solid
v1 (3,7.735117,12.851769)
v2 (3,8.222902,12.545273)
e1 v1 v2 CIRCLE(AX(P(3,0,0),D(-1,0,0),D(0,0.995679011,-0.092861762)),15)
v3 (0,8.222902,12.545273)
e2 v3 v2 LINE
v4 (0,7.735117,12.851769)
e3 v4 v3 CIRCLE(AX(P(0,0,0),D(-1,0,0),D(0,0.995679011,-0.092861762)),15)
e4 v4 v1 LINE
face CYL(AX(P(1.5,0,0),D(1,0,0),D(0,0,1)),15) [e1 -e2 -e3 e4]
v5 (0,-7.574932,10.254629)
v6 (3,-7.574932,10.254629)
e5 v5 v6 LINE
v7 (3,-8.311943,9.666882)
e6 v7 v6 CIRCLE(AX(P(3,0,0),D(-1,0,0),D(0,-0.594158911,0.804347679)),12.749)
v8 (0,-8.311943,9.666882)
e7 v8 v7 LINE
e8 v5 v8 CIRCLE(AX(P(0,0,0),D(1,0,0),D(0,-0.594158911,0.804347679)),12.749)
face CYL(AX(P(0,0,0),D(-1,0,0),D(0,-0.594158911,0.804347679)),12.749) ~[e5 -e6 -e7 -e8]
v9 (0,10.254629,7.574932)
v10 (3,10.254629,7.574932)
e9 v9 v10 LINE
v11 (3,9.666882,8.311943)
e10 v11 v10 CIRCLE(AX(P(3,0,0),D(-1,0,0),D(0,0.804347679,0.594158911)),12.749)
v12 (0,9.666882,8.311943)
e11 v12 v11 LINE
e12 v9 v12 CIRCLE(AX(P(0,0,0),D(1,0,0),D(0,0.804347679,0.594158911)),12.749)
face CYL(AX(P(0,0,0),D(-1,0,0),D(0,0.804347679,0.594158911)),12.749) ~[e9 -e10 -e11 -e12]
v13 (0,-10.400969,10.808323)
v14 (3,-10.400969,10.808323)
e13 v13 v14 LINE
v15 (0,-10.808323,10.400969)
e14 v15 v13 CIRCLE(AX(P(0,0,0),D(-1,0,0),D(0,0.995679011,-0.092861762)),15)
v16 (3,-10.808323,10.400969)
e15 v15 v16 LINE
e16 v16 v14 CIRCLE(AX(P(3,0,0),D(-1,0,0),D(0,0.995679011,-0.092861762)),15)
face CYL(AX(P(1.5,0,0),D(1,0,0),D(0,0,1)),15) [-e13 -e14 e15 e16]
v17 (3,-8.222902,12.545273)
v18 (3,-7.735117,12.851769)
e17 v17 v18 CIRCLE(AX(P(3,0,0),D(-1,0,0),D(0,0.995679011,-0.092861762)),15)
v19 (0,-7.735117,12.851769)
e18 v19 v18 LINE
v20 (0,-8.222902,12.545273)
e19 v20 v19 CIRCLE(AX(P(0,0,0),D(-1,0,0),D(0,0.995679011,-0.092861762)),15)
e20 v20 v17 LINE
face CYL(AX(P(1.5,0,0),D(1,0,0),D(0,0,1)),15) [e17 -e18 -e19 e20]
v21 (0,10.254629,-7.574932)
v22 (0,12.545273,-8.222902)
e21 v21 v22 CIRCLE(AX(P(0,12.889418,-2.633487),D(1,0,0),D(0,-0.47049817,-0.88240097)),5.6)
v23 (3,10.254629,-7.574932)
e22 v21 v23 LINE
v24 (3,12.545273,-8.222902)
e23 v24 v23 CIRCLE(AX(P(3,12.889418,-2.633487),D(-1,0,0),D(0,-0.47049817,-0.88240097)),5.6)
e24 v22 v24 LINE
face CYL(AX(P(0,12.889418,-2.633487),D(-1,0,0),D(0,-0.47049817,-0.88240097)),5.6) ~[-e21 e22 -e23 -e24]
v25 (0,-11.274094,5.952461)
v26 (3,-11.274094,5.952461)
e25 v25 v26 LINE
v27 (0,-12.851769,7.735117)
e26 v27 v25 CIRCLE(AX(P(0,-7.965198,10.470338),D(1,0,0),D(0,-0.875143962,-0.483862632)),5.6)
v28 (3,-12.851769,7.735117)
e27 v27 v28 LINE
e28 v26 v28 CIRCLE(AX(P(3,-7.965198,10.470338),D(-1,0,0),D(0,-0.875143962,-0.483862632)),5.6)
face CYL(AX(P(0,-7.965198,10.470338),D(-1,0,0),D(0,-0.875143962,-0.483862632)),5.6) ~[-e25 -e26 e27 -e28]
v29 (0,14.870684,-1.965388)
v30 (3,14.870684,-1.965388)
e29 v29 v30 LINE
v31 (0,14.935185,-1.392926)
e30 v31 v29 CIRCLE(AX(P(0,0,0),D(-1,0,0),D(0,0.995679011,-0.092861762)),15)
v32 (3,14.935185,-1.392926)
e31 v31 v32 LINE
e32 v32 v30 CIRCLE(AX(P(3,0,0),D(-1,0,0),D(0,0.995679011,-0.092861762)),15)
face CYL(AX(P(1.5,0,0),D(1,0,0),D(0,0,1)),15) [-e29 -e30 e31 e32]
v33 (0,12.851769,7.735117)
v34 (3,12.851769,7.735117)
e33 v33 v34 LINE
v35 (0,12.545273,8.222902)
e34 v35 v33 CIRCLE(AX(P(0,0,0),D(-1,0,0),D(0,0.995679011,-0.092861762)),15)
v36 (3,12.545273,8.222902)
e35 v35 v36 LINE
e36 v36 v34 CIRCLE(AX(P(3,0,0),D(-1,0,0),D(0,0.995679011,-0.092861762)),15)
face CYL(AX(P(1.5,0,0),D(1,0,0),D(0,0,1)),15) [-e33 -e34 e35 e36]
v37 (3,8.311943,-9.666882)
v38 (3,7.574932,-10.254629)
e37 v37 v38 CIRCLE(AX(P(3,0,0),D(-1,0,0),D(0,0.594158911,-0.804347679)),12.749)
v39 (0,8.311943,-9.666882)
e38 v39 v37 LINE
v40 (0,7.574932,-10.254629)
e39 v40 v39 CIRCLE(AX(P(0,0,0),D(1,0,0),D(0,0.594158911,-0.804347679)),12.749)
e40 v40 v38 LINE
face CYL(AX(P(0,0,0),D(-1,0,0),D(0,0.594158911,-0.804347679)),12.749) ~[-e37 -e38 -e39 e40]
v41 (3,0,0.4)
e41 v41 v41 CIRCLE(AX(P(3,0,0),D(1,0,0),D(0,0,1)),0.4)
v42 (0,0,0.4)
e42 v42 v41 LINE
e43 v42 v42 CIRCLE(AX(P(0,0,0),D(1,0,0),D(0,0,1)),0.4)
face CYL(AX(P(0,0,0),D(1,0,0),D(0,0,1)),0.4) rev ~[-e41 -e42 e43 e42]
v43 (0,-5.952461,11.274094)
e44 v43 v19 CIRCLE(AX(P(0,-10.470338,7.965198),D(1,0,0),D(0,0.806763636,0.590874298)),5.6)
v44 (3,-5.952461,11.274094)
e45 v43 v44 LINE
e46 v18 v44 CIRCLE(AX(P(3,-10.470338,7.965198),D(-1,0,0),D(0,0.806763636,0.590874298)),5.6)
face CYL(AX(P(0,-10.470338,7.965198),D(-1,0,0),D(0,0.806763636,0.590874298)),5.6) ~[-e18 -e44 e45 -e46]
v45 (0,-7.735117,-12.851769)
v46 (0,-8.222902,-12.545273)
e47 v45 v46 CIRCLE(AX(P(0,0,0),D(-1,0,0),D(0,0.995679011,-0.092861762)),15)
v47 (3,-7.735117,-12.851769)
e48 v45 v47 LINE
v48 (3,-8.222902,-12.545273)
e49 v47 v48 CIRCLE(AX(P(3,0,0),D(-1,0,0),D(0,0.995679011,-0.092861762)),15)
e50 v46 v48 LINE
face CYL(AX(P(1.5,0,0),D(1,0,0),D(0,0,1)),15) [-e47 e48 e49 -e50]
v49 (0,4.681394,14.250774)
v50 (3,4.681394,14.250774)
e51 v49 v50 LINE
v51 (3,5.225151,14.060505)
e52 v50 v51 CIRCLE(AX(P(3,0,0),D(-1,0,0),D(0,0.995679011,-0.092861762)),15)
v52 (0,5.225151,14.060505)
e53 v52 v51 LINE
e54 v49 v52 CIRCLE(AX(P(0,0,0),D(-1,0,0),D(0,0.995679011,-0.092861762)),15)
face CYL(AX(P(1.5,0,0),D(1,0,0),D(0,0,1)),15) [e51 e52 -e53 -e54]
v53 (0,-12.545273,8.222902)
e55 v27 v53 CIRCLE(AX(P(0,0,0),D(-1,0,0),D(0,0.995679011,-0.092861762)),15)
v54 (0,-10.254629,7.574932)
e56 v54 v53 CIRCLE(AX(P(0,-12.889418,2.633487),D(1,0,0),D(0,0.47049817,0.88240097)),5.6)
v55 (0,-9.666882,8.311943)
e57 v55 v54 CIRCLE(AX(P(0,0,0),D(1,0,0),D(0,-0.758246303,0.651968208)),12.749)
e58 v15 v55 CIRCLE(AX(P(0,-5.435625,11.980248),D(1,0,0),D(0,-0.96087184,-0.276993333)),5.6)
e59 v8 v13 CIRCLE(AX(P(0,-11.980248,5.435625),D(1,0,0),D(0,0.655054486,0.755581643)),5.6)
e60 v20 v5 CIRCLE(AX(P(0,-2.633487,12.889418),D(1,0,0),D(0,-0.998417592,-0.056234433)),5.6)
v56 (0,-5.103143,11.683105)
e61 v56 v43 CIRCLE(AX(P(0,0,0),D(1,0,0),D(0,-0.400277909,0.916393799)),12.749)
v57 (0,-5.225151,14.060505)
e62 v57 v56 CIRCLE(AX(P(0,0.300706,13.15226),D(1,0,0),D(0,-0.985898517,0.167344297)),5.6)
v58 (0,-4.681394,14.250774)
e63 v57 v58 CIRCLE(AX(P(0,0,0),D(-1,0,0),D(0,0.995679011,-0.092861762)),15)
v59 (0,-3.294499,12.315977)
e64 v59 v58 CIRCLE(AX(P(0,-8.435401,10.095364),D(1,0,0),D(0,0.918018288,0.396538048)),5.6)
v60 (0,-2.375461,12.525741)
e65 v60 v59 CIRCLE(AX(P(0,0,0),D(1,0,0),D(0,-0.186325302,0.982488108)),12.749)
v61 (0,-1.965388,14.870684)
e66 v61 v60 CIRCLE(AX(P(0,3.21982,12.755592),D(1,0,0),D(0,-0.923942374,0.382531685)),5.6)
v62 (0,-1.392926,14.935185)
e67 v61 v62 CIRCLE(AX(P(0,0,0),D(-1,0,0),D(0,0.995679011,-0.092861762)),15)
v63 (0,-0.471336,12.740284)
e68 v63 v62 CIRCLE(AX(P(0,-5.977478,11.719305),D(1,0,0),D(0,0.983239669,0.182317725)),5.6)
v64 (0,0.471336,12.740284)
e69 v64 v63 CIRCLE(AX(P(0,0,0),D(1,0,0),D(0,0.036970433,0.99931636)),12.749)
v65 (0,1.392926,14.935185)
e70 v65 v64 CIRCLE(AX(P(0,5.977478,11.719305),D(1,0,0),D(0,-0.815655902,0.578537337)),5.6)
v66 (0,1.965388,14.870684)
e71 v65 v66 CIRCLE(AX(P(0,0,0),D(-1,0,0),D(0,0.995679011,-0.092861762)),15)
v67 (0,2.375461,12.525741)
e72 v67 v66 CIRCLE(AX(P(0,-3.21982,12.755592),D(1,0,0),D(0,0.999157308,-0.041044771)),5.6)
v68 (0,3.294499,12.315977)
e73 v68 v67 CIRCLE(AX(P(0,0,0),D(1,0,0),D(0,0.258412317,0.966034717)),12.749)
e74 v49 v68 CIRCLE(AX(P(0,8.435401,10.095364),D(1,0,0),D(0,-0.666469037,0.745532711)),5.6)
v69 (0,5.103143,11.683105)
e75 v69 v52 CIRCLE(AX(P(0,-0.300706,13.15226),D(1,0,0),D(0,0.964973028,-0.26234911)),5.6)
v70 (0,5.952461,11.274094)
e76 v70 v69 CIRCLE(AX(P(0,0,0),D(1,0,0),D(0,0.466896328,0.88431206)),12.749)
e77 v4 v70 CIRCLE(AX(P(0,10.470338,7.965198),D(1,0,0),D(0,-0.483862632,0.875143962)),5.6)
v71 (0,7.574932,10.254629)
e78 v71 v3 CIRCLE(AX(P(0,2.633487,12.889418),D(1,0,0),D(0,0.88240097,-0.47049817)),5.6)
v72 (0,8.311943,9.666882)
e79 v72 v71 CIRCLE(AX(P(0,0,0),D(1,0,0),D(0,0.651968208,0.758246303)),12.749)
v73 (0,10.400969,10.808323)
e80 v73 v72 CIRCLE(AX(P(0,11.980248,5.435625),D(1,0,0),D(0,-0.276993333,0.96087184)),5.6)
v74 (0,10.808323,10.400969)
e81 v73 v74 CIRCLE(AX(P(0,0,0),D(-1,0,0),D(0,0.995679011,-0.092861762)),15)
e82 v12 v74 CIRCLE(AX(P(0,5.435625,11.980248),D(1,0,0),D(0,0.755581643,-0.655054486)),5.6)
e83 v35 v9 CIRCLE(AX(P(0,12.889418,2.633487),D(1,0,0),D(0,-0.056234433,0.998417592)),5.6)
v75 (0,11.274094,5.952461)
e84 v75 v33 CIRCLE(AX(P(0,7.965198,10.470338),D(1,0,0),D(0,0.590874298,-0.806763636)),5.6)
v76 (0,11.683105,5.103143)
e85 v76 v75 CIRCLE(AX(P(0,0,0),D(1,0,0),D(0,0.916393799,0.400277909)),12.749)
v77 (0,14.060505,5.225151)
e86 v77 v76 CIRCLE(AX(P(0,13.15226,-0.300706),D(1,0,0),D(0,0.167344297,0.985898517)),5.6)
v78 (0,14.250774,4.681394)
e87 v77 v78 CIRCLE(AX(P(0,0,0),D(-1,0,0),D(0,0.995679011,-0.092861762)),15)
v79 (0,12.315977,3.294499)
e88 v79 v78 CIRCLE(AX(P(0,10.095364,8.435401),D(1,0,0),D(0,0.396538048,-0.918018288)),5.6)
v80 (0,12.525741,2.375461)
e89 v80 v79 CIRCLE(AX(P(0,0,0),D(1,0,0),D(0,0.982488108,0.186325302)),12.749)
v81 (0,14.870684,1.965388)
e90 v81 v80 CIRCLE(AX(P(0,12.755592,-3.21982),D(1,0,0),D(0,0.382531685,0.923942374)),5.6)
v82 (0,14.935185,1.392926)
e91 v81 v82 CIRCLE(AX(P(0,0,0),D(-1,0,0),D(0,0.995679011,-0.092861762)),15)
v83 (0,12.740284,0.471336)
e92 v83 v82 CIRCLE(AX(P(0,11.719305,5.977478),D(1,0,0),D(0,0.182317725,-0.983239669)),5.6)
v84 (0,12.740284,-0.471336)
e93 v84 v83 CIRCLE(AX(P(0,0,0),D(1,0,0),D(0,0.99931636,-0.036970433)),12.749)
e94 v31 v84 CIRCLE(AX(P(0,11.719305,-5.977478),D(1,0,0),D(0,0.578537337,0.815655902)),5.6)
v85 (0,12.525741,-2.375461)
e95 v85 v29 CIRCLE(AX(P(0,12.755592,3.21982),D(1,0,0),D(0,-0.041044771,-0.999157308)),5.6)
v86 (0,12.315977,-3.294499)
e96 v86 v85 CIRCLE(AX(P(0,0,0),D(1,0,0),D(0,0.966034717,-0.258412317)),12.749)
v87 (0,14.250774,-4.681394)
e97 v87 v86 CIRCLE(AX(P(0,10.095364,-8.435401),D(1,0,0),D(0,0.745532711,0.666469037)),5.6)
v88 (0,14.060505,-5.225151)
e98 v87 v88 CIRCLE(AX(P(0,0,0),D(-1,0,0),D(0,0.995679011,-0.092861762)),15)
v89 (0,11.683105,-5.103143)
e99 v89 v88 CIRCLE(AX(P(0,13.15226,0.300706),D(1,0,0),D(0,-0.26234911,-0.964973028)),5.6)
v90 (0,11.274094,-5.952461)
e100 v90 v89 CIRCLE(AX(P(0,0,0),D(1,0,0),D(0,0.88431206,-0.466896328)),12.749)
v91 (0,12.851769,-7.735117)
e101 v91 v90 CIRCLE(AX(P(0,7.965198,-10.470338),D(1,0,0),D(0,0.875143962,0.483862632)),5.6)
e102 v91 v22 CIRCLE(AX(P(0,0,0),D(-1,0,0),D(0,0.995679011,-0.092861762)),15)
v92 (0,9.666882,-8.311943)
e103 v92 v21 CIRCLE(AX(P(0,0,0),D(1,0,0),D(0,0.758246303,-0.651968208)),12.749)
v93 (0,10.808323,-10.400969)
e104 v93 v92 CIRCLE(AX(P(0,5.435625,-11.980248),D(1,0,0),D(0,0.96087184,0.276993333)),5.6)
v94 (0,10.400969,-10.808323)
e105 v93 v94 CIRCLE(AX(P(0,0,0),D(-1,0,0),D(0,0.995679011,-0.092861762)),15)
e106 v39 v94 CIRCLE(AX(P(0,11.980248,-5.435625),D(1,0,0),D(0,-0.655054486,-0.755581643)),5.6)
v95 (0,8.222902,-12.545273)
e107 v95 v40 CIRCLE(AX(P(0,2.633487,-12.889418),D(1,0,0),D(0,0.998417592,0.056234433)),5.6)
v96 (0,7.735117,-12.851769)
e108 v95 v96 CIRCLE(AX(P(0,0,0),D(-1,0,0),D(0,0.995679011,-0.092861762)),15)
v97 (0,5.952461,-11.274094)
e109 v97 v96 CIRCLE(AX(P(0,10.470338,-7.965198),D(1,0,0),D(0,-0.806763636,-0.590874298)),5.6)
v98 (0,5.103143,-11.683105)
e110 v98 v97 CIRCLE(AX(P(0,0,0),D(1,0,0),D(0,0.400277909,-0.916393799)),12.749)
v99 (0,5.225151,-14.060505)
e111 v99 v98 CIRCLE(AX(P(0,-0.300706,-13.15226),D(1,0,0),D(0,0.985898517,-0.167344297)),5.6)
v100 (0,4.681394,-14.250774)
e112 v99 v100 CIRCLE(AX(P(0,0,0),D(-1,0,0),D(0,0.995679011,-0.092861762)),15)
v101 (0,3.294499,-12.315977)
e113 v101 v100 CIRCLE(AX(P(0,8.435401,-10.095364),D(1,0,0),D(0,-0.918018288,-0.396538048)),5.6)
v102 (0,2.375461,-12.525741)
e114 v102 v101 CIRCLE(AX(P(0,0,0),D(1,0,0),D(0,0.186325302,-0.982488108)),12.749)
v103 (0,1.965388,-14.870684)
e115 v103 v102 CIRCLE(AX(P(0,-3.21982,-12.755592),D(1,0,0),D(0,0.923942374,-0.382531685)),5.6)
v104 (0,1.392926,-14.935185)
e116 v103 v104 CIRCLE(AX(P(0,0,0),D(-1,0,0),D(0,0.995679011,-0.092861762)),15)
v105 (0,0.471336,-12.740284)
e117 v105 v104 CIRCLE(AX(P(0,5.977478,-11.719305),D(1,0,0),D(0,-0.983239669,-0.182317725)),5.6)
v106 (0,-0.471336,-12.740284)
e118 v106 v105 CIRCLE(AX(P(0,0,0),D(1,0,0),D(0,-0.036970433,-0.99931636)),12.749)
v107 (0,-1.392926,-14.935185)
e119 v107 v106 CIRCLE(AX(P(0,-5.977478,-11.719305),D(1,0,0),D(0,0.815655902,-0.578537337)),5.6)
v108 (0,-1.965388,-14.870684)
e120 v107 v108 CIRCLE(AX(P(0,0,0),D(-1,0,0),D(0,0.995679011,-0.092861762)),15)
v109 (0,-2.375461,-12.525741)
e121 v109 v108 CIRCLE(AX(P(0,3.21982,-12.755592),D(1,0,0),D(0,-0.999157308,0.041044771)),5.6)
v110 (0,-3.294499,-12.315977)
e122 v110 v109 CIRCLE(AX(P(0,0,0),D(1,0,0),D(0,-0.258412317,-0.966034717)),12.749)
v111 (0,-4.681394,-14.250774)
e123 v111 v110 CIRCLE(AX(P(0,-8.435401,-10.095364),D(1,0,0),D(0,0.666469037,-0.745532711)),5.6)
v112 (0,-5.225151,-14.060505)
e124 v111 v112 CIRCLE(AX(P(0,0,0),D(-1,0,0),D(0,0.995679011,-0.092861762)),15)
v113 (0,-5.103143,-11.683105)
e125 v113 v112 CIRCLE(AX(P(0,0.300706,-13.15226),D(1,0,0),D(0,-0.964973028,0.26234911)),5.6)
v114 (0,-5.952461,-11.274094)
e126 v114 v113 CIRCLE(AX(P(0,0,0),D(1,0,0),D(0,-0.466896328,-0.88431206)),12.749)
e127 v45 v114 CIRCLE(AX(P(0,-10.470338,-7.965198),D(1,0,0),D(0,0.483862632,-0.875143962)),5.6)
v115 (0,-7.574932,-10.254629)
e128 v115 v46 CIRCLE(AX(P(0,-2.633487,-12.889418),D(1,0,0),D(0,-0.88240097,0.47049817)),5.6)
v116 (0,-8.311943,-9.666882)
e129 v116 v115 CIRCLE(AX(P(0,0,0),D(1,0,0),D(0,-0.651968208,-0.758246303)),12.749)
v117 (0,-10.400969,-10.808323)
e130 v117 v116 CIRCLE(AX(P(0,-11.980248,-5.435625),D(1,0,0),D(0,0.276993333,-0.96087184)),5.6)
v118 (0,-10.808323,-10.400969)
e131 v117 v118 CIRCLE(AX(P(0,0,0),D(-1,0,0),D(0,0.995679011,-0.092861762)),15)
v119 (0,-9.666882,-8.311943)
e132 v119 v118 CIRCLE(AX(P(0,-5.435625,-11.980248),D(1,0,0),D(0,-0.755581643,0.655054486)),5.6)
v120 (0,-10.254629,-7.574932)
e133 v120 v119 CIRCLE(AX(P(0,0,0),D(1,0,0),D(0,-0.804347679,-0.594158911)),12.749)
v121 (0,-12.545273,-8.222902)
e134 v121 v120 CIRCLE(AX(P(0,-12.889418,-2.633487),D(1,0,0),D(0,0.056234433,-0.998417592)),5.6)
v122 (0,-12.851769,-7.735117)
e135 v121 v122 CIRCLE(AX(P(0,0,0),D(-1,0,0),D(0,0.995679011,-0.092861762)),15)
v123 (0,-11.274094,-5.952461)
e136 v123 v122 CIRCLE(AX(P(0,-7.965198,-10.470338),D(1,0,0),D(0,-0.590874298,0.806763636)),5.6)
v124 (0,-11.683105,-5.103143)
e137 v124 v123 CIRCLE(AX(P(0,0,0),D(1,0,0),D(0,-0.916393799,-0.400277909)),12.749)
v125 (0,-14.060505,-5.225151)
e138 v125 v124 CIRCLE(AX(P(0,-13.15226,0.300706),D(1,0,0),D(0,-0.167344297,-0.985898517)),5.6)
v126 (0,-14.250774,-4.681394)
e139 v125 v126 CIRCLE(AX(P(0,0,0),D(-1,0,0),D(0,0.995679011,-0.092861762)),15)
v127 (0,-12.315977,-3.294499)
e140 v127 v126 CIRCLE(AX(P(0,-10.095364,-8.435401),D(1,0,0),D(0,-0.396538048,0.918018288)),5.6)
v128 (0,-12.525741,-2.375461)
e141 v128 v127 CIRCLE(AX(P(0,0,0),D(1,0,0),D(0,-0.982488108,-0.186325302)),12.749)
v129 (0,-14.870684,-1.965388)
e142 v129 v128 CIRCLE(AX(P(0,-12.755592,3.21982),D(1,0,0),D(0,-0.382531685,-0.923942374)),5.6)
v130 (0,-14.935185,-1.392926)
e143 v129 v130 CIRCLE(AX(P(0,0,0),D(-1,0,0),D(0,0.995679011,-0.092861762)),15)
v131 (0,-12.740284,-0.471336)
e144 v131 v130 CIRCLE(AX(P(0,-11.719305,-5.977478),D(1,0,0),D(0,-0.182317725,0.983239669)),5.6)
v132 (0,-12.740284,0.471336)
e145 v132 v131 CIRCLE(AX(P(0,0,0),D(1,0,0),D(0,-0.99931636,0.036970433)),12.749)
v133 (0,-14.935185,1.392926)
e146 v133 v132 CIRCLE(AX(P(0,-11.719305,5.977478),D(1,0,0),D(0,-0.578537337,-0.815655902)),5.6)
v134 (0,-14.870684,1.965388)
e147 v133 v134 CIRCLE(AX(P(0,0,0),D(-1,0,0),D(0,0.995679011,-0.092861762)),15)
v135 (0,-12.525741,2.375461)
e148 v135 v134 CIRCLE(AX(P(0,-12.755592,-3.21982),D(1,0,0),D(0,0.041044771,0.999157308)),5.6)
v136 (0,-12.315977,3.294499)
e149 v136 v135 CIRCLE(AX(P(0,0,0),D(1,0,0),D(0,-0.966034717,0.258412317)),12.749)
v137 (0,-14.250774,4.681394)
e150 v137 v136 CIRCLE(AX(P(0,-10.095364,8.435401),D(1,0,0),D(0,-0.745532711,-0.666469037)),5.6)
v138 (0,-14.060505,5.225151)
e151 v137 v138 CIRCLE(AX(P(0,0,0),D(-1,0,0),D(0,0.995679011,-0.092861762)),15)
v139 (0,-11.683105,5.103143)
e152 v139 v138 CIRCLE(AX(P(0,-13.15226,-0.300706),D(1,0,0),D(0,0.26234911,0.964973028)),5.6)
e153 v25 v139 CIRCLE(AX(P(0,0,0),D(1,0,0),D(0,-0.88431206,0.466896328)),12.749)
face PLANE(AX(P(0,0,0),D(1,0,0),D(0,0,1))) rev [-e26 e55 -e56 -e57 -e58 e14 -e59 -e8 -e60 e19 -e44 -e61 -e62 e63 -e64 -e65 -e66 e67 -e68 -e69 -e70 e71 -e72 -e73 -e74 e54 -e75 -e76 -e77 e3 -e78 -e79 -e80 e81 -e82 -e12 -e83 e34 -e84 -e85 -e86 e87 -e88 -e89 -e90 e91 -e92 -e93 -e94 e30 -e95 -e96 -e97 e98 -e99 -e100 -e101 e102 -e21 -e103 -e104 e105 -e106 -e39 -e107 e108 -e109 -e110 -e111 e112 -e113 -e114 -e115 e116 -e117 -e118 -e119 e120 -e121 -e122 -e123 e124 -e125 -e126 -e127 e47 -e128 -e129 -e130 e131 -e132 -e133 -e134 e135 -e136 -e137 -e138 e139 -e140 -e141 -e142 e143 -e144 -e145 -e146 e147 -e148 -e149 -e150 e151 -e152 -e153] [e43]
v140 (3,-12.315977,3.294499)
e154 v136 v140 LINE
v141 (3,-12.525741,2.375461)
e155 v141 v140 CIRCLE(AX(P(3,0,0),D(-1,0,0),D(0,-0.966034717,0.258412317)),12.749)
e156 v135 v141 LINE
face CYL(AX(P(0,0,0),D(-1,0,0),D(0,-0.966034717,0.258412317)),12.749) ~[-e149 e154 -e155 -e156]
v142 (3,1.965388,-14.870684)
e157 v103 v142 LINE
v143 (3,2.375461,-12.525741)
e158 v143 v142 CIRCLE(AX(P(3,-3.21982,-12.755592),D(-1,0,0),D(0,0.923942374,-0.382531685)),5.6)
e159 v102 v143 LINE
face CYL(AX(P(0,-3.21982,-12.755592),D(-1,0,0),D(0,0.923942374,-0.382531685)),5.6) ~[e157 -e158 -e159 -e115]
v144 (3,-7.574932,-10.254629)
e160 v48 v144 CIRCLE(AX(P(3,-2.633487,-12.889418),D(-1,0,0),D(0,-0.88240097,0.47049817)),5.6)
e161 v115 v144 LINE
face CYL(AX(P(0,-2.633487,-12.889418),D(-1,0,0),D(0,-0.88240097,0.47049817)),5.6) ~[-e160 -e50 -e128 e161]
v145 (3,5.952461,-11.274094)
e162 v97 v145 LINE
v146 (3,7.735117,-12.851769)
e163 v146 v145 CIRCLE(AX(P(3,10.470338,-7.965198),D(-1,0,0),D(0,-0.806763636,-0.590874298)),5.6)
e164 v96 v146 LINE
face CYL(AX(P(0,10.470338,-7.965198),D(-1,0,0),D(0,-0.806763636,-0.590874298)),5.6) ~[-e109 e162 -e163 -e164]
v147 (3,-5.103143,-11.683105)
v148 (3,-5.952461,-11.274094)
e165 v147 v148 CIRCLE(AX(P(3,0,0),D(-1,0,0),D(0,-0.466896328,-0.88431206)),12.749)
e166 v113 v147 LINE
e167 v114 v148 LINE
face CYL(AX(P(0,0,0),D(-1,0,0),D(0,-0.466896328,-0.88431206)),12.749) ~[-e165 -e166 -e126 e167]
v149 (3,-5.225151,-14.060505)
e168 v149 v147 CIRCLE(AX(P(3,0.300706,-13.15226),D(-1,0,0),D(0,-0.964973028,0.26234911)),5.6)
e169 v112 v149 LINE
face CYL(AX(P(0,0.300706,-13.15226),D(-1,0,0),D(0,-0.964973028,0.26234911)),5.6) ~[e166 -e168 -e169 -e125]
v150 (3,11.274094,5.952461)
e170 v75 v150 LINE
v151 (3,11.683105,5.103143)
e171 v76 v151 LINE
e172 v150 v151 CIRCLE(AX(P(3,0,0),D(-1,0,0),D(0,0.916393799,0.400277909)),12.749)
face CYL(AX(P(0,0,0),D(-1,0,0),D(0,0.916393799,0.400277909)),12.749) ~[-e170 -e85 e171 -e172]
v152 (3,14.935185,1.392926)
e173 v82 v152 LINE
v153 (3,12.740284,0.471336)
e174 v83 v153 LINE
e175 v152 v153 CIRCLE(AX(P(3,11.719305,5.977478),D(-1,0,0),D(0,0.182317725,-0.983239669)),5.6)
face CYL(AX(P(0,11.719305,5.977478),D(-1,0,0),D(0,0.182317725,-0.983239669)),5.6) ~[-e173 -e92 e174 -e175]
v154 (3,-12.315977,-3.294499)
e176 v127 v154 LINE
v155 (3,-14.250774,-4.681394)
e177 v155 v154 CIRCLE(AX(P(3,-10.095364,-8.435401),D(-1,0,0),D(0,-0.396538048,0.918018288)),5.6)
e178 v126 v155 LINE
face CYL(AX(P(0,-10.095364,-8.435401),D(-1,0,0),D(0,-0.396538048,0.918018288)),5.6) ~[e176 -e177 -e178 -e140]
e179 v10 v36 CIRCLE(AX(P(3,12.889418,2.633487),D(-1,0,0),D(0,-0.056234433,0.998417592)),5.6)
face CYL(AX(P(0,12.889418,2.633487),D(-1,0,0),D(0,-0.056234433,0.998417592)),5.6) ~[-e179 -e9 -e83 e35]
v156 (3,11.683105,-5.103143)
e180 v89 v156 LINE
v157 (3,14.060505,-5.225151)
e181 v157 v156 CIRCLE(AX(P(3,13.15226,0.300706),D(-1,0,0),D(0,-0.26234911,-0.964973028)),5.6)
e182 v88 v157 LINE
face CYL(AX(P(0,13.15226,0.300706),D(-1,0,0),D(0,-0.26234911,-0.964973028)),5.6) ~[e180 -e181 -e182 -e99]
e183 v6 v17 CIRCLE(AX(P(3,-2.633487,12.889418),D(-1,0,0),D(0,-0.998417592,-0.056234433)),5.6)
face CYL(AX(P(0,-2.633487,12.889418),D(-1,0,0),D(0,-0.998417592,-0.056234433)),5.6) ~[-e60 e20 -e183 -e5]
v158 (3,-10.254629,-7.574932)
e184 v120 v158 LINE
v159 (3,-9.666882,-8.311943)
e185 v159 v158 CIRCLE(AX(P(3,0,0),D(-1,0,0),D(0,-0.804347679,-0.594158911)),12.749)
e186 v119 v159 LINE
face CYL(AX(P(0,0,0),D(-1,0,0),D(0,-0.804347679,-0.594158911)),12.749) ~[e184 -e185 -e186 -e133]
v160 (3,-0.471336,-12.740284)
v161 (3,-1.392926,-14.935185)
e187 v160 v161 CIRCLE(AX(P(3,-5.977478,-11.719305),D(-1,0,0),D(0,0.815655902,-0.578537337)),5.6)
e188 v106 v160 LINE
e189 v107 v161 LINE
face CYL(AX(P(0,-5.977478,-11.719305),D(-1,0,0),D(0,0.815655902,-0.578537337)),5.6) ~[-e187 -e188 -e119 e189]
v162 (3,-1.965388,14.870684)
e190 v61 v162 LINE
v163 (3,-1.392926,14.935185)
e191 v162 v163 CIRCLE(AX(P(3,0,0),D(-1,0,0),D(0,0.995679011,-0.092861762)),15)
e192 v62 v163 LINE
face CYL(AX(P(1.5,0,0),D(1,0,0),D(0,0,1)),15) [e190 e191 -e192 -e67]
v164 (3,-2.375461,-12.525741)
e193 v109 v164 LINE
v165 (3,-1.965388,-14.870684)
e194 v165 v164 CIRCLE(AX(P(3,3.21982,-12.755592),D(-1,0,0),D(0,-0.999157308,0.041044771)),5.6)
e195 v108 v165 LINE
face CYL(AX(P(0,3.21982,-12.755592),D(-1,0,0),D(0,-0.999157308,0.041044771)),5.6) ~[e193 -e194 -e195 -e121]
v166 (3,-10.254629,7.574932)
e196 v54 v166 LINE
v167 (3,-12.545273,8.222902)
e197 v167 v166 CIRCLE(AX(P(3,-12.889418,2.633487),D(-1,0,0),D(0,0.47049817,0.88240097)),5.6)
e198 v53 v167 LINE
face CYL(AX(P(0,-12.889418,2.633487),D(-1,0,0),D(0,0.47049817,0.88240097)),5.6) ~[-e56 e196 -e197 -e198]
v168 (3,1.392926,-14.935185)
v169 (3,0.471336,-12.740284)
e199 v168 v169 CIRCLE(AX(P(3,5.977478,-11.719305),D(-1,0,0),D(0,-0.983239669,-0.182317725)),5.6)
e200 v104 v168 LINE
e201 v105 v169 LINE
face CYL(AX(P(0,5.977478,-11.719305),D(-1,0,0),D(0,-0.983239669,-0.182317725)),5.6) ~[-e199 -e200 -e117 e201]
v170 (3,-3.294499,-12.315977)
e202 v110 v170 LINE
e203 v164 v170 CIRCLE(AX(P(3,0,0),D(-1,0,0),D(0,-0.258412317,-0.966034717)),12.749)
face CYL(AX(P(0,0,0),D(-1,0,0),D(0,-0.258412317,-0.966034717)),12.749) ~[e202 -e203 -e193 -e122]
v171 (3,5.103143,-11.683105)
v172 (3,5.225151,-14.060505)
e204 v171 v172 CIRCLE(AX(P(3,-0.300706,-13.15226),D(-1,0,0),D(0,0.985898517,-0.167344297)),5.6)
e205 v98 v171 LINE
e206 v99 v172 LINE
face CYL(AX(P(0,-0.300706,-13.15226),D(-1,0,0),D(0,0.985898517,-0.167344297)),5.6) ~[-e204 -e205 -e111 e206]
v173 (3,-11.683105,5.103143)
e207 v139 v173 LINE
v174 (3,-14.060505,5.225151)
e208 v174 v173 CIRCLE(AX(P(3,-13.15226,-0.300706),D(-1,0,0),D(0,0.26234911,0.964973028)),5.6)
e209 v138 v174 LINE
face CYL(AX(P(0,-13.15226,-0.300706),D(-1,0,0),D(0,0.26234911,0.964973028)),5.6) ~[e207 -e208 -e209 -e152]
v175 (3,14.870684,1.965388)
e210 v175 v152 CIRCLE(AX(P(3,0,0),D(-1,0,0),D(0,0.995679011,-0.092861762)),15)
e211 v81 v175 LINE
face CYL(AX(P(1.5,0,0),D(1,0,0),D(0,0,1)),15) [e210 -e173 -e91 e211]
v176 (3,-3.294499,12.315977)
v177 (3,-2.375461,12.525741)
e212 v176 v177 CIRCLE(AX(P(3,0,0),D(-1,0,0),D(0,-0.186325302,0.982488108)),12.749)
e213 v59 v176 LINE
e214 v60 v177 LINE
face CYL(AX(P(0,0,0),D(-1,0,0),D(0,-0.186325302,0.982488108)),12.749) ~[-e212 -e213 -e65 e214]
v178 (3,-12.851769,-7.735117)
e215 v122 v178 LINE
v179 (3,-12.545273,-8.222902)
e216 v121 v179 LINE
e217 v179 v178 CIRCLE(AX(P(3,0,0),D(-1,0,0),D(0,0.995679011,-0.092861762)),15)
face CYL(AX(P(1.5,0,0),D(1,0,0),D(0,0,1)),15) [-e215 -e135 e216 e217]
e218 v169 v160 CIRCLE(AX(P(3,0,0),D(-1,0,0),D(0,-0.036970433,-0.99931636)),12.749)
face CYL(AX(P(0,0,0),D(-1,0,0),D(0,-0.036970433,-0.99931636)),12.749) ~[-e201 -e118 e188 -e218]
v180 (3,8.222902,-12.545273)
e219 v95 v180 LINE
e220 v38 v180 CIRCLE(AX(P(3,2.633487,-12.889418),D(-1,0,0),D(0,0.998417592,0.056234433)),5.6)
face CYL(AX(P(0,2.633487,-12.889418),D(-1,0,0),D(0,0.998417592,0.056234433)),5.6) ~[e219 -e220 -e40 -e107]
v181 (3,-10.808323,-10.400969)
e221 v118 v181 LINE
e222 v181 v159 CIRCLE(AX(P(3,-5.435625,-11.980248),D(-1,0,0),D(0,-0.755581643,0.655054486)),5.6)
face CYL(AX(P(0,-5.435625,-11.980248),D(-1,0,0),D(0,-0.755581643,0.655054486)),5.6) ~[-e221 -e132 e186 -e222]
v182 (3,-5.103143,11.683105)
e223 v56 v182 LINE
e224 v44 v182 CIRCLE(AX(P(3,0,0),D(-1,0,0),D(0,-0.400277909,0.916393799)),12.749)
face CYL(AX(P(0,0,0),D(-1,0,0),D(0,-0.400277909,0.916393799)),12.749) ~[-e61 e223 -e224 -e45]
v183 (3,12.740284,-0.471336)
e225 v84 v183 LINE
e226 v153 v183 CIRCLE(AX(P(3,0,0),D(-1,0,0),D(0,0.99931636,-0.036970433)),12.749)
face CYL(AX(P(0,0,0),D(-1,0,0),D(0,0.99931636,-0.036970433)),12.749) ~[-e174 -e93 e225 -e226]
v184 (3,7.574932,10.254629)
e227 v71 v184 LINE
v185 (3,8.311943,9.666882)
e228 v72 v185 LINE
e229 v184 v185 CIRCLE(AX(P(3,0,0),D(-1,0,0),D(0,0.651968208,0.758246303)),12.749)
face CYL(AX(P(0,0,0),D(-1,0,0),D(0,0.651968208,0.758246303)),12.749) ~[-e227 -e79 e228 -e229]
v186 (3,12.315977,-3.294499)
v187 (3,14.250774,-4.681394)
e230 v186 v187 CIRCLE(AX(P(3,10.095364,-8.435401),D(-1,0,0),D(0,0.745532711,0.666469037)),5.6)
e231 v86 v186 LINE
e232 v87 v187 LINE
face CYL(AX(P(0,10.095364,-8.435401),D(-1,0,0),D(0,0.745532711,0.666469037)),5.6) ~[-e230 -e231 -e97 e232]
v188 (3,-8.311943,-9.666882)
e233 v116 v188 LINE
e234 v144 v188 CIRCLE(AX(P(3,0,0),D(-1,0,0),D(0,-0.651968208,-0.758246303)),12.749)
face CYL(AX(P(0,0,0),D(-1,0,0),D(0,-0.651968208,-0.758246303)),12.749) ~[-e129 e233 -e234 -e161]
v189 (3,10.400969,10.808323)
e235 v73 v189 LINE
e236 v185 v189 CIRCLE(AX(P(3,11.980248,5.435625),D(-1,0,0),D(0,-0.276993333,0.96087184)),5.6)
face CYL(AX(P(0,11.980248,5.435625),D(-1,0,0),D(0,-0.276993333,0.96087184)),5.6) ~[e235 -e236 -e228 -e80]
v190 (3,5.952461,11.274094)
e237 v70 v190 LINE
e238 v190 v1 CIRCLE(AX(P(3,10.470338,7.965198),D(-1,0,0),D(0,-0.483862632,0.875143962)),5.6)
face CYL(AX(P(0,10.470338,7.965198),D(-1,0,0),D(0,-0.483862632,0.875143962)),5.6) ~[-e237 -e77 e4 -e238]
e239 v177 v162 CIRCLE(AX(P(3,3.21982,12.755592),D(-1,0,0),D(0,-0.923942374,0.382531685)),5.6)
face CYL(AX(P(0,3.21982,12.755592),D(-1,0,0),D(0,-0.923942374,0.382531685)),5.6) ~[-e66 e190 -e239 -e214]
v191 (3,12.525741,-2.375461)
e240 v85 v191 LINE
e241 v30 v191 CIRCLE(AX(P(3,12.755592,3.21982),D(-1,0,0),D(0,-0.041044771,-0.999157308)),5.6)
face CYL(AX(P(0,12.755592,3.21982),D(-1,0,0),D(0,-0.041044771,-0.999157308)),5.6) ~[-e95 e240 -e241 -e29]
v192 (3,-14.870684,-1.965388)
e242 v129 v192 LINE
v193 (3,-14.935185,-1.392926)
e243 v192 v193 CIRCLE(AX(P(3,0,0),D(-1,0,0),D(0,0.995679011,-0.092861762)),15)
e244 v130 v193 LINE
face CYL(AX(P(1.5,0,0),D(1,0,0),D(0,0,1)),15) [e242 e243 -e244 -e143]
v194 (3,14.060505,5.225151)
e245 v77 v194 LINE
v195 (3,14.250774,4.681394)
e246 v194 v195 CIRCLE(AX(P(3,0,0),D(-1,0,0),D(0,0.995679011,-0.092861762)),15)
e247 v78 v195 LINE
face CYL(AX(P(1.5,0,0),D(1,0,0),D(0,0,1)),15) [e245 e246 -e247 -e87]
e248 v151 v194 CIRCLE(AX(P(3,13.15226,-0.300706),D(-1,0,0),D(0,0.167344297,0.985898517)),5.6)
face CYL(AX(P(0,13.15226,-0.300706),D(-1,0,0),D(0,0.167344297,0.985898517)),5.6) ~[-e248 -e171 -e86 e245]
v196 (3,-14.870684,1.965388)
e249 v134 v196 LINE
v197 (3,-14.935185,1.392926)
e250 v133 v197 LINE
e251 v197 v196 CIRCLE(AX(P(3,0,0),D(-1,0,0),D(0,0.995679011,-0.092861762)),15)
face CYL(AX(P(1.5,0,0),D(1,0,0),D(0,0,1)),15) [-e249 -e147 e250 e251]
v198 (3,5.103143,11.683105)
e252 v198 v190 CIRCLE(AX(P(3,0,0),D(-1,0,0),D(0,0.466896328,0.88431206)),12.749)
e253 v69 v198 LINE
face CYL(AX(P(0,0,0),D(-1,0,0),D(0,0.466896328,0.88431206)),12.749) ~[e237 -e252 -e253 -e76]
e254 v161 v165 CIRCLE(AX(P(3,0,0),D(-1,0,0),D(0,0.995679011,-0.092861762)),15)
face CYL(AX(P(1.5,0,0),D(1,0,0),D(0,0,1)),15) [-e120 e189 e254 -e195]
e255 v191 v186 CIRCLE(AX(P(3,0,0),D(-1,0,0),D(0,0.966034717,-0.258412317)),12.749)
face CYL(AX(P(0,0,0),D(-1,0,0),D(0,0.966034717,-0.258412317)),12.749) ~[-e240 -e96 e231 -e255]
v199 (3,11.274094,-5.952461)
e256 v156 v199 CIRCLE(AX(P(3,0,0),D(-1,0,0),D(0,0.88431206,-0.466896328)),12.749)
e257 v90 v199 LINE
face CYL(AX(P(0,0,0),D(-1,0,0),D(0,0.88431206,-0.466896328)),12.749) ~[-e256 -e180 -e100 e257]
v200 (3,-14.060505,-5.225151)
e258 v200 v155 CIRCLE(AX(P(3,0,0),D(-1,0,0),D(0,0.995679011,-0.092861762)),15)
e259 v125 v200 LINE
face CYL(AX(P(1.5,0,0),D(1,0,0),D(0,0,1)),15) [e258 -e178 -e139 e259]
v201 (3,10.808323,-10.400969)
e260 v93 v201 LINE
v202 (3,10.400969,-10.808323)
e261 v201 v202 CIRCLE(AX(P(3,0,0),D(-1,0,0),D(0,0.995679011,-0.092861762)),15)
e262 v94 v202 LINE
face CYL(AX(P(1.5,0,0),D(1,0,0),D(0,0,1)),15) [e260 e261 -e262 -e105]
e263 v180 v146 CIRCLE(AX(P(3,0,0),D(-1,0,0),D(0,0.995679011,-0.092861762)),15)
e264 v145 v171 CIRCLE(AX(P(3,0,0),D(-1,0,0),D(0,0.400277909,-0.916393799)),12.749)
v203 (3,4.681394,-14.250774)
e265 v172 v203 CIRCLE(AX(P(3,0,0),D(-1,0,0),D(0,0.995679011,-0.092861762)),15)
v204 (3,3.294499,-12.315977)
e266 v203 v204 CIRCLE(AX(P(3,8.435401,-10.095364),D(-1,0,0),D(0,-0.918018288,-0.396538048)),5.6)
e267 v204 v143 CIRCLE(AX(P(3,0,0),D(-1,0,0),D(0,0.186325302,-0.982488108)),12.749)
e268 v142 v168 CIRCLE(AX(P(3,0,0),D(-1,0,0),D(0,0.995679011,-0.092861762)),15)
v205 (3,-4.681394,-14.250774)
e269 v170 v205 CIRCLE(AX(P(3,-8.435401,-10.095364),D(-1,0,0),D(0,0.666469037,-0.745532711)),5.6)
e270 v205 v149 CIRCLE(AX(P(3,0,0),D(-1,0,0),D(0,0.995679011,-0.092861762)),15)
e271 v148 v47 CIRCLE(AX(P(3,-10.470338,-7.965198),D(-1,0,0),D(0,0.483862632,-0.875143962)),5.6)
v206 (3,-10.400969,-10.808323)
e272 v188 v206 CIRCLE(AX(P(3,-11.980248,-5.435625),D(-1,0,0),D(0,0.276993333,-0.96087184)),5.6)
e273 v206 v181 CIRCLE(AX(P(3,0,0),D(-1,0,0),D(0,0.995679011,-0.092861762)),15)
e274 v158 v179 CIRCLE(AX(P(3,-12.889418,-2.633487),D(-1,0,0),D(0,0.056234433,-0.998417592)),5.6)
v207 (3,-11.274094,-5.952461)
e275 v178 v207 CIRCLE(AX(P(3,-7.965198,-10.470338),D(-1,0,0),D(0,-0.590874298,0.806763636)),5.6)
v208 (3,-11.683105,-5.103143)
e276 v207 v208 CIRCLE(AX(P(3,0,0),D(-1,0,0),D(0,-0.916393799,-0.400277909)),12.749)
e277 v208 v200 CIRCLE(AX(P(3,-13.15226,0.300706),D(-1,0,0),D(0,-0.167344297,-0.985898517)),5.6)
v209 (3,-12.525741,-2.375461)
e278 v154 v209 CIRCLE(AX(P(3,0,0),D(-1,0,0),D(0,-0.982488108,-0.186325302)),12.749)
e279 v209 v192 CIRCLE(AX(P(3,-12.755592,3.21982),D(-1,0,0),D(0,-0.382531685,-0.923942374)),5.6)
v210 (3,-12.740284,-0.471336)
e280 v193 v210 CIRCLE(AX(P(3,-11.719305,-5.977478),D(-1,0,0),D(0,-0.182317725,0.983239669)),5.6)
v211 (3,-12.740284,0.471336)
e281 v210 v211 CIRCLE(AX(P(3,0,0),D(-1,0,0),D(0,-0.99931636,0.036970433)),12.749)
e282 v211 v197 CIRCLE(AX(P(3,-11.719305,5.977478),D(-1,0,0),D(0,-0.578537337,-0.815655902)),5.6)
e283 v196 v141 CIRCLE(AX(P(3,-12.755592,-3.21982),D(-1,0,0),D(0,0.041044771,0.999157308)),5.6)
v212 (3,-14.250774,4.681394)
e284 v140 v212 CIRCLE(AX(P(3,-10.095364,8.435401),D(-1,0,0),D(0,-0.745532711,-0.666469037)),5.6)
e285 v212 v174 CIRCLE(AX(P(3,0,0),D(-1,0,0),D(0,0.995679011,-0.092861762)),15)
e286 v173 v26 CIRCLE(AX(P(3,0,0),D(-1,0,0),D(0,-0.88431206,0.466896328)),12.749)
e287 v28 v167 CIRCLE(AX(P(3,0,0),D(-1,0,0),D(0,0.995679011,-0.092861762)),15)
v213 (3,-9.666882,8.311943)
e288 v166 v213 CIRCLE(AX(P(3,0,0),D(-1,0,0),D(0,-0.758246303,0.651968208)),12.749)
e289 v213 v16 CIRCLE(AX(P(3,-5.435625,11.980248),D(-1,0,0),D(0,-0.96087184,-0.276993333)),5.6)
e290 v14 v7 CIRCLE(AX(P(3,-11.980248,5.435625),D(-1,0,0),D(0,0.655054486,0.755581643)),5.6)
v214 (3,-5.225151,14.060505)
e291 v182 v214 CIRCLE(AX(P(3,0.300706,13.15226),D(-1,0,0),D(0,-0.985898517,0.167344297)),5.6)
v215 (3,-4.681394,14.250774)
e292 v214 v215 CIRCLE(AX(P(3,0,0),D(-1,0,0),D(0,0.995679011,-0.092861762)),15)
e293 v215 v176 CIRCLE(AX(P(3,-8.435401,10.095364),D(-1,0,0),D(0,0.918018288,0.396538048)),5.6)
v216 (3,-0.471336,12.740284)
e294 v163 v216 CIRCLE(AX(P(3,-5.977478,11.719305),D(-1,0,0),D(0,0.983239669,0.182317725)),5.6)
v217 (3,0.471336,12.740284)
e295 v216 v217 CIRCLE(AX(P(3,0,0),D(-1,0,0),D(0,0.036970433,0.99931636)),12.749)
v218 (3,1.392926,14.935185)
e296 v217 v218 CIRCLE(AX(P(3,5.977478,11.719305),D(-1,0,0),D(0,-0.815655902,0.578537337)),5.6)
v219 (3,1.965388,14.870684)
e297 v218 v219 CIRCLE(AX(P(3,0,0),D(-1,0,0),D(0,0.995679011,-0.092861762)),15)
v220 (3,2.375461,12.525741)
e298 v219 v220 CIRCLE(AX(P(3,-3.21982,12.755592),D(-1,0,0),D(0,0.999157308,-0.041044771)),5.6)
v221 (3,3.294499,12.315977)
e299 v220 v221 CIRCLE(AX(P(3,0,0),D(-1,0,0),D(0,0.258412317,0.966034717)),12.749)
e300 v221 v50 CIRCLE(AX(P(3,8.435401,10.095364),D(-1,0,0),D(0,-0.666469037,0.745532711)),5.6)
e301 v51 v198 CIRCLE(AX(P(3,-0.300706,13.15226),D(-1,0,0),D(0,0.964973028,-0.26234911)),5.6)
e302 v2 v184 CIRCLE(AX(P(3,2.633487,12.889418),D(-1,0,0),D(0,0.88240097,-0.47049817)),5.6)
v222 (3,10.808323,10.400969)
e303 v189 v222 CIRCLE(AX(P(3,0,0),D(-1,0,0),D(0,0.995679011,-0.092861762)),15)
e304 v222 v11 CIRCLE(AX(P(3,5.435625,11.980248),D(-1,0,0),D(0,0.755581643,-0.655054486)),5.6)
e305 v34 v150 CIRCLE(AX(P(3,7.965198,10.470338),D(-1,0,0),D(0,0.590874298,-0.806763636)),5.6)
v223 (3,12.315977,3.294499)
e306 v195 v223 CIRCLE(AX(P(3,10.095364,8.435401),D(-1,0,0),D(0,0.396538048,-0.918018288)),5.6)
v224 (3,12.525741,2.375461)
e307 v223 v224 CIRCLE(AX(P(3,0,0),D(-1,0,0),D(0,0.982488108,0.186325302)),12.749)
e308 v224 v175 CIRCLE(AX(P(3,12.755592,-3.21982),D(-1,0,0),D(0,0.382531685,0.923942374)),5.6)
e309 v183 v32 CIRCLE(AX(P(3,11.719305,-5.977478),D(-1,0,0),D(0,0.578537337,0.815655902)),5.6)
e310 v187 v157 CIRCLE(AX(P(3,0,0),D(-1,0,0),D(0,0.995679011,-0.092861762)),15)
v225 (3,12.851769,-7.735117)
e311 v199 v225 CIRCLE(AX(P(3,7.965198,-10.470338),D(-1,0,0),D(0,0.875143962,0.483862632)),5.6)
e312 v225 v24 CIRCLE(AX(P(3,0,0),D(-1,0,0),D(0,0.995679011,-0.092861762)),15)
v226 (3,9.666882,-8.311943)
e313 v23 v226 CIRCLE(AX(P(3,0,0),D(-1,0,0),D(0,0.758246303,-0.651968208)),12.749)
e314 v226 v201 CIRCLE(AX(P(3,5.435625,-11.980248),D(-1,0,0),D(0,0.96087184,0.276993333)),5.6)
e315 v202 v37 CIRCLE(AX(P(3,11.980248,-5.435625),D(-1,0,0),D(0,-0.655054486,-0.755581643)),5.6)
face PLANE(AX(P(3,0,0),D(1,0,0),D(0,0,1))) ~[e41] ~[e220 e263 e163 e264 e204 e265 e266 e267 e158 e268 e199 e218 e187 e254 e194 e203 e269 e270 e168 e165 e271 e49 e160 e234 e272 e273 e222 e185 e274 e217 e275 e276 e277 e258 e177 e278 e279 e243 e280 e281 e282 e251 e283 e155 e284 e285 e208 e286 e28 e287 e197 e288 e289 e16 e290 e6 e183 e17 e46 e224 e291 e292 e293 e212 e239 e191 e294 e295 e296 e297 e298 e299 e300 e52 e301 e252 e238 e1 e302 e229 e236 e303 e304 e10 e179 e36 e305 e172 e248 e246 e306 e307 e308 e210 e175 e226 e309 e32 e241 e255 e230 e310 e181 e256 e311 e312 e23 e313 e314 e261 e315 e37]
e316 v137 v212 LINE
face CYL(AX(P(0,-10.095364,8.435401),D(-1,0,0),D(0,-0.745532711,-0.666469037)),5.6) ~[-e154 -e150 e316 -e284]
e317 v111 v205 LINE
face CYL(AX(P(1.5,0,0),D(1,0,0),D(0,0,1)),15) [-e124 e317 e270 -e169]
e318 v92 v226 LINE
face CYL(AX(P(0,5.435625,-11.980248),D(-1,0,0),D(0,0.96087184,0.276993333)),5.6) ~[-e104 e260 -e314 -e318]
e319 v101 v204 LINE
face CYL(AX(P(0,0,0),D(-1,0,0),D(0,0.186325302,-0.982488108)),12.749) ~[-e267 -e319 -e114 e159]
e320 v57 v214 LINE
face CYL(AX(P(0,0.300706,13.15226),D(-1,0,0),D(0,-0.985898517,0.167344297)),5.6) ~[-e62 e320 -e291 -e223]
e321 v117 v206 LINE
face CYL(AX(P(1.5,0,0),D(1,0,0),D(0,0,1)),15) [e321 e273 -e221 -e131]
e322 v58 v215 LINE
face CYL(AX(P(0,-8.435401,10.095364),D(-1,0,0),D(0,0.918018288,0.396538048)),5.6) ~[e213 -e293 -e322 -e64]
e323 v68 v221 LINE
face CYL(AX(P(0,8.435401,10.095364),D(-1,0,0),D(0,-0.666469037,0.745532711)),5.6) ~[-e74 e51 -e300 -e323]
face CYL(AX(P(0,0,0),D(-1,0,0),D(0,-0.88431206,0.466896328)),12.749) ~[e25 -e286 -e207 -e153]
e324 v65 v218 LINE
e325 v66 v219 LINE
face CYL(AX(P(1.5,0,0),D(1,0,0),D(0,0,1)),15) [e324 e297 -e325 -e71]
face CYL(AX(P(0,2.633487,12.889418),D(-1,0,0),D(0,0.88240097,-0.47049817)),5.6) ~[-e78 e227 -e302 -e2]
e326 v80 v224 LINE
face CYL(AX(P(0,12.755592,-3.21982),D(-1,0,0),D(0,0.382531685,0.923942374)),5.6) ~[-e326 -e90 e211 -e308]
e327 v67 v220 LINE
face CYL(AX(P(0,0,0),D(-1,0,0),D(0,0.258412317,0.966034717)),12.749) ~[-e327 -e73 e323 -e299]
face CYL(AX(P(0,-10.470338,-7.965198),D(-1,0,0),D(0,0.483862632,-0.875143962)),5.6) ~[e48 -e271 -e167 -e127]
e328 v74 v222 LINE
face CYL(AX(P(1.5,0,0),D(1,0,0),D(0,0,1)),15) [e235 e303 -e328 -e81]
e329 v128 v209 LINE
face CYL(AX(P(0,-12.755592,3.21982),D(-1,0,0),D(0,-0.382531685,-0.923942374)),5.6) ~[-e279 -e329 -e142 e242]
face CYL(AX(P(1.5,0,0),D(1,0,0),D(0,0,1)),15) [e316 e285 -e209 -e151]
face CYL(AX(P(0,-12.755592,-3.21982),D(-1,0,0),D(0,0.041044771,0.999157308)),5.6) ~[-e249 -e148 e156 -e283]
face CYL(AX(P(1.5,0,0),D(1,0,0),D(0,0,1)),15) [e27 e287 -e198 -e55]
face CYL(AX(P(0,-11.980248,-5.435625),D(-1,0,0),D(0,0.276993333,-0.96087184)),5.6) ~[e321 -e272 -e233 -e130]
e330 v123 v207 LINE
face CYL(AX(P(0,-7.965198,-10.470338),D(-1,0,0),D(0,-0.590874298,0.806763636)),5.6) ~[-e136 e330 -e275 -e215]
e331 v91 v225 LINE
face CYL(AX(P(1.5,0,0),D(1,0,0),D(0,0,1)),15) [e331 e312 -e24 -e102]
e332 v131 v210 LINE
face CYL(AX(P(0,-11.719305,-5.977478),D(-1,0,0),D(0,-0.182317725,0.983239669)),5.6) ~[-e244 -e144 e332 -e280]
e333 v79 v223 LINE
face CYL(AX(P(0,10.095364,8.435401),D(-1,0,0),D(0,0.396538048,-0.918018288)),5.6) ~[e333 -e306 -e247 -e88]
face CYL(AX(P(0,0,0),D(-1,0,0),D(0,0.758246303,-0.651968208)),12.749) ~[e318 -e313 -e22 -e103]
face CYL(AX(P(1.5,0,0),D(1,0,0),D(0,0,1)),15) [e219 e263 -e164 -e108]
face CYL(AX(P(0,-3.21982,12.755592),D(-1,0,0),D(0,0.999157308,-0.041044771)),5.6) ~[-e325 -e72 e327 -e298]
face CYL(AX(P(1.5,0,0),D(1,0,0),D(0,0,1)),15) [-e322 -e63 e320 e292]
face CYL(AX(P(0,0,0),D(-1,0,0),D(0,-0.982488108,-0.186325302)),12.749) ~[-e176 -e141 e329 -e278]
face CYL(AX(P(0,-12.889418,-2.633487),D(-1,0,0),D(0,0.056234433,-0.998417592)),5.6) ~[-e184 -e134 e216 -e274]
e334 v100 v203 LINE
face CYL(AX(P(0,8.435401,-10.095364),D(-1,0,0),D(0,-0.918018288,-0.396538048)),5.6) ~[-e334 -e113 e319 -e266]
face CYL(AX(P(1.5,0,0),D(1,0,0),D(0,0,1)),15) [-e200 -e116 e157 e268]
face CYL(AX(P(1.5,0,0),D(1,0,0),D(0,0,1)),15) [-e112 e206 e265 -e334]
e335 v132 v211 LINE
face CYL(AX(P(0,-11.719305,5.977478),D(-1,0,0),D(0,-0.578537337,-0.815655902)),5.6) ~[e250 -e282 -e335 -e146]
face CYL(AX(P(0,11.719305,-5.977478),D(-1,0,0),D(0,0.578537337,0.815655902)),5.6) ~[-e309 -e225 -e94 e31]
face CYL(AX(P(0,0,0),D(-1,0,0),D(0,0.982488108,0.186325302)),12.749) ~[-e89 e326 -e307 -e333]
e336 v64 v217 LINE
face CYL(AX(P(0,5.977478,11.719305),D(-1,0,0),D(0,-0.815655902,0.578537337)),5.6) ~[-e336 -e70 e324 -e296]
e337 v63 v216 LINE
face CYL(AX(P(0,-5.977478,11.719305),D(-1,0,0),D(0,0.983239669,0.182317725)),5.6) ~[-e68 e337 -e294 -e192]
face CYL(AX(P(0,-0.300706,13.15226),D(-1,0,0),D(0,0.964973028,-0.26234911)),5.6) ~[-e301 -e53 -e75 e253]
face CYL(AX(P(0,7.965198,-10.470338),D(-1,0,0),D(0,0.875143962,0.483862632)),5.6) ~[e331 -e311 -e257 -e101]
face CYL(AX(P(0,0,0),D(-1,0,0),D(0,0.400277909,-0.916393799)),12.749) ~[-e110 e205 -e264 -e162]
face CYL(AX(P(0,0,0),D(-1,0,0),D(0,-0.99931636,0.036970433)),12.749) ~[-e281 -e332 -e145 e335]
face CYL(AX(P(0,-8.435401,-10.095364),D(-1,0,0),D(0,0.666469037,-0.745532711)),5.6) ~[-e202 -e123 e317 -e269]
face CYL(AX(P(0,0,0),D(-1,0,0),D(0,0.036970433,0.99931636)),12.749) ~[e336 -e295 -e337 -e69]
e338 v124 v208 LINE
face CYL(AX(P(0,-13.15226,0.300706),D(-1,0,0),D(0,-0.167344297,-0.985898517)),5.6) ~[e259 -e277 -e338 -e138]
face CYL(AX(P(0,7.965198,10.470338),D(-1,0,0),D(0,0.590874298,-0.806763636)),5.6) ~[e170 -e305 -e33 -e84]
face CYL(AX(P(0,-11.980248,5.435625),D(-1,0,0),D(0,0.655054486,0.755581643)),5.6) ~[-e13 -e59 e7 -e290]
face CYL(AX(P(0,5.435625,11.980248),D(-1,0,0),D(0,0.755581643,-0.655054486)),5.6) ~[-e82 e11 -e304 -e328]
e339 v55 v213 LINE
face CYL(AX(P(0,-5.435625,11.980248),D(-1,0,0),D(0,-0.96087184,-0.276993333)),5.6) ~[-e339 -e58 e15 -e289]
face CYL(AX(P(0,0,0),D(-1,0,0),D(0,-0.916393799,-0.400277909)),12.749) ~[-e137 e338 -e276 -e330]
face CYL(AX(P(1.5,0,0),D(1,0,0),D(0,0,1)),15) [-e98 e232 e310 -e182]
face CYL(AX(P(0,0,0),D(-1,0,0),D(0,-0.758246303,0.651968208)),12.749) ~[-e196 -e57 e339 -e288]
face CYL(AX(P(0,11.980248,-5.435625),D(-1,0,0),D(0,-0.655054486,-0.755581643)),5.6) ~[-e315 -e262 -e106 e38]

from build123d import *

# Parameters (mm, degrees)
BASPROSKE_W     = 3
BASPROSKE_H     = 15
TOOTHCUT_DEPTH  = 22.424285286
TEETHCUTS_COUNT = 28
TEETHCUTS_ANGLE = 347.142857143
BORSKE_R        = 0.4
BORE_DEPTH      = 50.0000508


with BuildPart() as part:
    # BasProSke → Base-Revolve (revolve)
    with BuildSketch(Plane(origin=(0, 0, 0), x_dir=(1, 0, 0), z_dir=(0, 1, 0)), mode=Mode.PRIVATE) as base_revolve_sk:
        with Locations((1.5, 7.5)):
            Rectangle(BASPROSKE_W, BASPROSKE_H)
    revolve(base_revolve_sk.sketch.rotate(Axis((-10, 0, 0), (1, 0, 0)), 180), axis=Axis((-10, 0, 0), (1, 0, 0)))

    # TooCutSke → ToothCut (cut, through all)
    with BuildSketch(Plane(origin=(0, 0, 0), x_dir=(0, 0, -1), z_dir=(1, 0, 0))):
        with BuildLine():
            ThreePointArc((0.471336039, 12.740284272), (0, 12.749), (-0.471336039, 12.740284272))
            ThreePointArc((-0.471336039, 12.740284272), (-0.81983923, 13.900763331), (-1.409805137, 14.959114099))
            ThreePointArc((-1.409805137, 14.959114099), (0, 15.0254), (1.409805137, 14.959114099))
            ThreePointArc((1.409805137, 14.959114099), (0.81983923, 13.900763331), (0.471336039, 12.740284272))
        make_face()
    toothcut = extrude(amount=TOOTHCUT_DEPTH, mode=Mode.SUBTRACT)

    # TeethCuts: ToothCut ×28 about axis
    teethcuts_axis = Axis((-10, 0, 0), (1, 0, 0))
    for i in range(1, TEETHCUTS_COUNT):
        add(toothcut.rotate(teethcuts_axis, i * TEETHCUTS_ANGLE / (TEETHCUTS_COUNT - 1)), mode=Mode.SUBTRACT)

    # BorSke → Bore (cut, symmetric)
    with BuildSketch(Plane(origin=(0, 0, 0), x_dir=(0, 0, -1), z_dir=(1, 0, 0))):
        with Locations(Location((0, 0, 0), (0, 0, 180))):
            Circle(BORSKE_R)
    extrude(amount=BORE_DEPTH, both=True, mode=Mode.SUBTRACT)


solid = part.part
